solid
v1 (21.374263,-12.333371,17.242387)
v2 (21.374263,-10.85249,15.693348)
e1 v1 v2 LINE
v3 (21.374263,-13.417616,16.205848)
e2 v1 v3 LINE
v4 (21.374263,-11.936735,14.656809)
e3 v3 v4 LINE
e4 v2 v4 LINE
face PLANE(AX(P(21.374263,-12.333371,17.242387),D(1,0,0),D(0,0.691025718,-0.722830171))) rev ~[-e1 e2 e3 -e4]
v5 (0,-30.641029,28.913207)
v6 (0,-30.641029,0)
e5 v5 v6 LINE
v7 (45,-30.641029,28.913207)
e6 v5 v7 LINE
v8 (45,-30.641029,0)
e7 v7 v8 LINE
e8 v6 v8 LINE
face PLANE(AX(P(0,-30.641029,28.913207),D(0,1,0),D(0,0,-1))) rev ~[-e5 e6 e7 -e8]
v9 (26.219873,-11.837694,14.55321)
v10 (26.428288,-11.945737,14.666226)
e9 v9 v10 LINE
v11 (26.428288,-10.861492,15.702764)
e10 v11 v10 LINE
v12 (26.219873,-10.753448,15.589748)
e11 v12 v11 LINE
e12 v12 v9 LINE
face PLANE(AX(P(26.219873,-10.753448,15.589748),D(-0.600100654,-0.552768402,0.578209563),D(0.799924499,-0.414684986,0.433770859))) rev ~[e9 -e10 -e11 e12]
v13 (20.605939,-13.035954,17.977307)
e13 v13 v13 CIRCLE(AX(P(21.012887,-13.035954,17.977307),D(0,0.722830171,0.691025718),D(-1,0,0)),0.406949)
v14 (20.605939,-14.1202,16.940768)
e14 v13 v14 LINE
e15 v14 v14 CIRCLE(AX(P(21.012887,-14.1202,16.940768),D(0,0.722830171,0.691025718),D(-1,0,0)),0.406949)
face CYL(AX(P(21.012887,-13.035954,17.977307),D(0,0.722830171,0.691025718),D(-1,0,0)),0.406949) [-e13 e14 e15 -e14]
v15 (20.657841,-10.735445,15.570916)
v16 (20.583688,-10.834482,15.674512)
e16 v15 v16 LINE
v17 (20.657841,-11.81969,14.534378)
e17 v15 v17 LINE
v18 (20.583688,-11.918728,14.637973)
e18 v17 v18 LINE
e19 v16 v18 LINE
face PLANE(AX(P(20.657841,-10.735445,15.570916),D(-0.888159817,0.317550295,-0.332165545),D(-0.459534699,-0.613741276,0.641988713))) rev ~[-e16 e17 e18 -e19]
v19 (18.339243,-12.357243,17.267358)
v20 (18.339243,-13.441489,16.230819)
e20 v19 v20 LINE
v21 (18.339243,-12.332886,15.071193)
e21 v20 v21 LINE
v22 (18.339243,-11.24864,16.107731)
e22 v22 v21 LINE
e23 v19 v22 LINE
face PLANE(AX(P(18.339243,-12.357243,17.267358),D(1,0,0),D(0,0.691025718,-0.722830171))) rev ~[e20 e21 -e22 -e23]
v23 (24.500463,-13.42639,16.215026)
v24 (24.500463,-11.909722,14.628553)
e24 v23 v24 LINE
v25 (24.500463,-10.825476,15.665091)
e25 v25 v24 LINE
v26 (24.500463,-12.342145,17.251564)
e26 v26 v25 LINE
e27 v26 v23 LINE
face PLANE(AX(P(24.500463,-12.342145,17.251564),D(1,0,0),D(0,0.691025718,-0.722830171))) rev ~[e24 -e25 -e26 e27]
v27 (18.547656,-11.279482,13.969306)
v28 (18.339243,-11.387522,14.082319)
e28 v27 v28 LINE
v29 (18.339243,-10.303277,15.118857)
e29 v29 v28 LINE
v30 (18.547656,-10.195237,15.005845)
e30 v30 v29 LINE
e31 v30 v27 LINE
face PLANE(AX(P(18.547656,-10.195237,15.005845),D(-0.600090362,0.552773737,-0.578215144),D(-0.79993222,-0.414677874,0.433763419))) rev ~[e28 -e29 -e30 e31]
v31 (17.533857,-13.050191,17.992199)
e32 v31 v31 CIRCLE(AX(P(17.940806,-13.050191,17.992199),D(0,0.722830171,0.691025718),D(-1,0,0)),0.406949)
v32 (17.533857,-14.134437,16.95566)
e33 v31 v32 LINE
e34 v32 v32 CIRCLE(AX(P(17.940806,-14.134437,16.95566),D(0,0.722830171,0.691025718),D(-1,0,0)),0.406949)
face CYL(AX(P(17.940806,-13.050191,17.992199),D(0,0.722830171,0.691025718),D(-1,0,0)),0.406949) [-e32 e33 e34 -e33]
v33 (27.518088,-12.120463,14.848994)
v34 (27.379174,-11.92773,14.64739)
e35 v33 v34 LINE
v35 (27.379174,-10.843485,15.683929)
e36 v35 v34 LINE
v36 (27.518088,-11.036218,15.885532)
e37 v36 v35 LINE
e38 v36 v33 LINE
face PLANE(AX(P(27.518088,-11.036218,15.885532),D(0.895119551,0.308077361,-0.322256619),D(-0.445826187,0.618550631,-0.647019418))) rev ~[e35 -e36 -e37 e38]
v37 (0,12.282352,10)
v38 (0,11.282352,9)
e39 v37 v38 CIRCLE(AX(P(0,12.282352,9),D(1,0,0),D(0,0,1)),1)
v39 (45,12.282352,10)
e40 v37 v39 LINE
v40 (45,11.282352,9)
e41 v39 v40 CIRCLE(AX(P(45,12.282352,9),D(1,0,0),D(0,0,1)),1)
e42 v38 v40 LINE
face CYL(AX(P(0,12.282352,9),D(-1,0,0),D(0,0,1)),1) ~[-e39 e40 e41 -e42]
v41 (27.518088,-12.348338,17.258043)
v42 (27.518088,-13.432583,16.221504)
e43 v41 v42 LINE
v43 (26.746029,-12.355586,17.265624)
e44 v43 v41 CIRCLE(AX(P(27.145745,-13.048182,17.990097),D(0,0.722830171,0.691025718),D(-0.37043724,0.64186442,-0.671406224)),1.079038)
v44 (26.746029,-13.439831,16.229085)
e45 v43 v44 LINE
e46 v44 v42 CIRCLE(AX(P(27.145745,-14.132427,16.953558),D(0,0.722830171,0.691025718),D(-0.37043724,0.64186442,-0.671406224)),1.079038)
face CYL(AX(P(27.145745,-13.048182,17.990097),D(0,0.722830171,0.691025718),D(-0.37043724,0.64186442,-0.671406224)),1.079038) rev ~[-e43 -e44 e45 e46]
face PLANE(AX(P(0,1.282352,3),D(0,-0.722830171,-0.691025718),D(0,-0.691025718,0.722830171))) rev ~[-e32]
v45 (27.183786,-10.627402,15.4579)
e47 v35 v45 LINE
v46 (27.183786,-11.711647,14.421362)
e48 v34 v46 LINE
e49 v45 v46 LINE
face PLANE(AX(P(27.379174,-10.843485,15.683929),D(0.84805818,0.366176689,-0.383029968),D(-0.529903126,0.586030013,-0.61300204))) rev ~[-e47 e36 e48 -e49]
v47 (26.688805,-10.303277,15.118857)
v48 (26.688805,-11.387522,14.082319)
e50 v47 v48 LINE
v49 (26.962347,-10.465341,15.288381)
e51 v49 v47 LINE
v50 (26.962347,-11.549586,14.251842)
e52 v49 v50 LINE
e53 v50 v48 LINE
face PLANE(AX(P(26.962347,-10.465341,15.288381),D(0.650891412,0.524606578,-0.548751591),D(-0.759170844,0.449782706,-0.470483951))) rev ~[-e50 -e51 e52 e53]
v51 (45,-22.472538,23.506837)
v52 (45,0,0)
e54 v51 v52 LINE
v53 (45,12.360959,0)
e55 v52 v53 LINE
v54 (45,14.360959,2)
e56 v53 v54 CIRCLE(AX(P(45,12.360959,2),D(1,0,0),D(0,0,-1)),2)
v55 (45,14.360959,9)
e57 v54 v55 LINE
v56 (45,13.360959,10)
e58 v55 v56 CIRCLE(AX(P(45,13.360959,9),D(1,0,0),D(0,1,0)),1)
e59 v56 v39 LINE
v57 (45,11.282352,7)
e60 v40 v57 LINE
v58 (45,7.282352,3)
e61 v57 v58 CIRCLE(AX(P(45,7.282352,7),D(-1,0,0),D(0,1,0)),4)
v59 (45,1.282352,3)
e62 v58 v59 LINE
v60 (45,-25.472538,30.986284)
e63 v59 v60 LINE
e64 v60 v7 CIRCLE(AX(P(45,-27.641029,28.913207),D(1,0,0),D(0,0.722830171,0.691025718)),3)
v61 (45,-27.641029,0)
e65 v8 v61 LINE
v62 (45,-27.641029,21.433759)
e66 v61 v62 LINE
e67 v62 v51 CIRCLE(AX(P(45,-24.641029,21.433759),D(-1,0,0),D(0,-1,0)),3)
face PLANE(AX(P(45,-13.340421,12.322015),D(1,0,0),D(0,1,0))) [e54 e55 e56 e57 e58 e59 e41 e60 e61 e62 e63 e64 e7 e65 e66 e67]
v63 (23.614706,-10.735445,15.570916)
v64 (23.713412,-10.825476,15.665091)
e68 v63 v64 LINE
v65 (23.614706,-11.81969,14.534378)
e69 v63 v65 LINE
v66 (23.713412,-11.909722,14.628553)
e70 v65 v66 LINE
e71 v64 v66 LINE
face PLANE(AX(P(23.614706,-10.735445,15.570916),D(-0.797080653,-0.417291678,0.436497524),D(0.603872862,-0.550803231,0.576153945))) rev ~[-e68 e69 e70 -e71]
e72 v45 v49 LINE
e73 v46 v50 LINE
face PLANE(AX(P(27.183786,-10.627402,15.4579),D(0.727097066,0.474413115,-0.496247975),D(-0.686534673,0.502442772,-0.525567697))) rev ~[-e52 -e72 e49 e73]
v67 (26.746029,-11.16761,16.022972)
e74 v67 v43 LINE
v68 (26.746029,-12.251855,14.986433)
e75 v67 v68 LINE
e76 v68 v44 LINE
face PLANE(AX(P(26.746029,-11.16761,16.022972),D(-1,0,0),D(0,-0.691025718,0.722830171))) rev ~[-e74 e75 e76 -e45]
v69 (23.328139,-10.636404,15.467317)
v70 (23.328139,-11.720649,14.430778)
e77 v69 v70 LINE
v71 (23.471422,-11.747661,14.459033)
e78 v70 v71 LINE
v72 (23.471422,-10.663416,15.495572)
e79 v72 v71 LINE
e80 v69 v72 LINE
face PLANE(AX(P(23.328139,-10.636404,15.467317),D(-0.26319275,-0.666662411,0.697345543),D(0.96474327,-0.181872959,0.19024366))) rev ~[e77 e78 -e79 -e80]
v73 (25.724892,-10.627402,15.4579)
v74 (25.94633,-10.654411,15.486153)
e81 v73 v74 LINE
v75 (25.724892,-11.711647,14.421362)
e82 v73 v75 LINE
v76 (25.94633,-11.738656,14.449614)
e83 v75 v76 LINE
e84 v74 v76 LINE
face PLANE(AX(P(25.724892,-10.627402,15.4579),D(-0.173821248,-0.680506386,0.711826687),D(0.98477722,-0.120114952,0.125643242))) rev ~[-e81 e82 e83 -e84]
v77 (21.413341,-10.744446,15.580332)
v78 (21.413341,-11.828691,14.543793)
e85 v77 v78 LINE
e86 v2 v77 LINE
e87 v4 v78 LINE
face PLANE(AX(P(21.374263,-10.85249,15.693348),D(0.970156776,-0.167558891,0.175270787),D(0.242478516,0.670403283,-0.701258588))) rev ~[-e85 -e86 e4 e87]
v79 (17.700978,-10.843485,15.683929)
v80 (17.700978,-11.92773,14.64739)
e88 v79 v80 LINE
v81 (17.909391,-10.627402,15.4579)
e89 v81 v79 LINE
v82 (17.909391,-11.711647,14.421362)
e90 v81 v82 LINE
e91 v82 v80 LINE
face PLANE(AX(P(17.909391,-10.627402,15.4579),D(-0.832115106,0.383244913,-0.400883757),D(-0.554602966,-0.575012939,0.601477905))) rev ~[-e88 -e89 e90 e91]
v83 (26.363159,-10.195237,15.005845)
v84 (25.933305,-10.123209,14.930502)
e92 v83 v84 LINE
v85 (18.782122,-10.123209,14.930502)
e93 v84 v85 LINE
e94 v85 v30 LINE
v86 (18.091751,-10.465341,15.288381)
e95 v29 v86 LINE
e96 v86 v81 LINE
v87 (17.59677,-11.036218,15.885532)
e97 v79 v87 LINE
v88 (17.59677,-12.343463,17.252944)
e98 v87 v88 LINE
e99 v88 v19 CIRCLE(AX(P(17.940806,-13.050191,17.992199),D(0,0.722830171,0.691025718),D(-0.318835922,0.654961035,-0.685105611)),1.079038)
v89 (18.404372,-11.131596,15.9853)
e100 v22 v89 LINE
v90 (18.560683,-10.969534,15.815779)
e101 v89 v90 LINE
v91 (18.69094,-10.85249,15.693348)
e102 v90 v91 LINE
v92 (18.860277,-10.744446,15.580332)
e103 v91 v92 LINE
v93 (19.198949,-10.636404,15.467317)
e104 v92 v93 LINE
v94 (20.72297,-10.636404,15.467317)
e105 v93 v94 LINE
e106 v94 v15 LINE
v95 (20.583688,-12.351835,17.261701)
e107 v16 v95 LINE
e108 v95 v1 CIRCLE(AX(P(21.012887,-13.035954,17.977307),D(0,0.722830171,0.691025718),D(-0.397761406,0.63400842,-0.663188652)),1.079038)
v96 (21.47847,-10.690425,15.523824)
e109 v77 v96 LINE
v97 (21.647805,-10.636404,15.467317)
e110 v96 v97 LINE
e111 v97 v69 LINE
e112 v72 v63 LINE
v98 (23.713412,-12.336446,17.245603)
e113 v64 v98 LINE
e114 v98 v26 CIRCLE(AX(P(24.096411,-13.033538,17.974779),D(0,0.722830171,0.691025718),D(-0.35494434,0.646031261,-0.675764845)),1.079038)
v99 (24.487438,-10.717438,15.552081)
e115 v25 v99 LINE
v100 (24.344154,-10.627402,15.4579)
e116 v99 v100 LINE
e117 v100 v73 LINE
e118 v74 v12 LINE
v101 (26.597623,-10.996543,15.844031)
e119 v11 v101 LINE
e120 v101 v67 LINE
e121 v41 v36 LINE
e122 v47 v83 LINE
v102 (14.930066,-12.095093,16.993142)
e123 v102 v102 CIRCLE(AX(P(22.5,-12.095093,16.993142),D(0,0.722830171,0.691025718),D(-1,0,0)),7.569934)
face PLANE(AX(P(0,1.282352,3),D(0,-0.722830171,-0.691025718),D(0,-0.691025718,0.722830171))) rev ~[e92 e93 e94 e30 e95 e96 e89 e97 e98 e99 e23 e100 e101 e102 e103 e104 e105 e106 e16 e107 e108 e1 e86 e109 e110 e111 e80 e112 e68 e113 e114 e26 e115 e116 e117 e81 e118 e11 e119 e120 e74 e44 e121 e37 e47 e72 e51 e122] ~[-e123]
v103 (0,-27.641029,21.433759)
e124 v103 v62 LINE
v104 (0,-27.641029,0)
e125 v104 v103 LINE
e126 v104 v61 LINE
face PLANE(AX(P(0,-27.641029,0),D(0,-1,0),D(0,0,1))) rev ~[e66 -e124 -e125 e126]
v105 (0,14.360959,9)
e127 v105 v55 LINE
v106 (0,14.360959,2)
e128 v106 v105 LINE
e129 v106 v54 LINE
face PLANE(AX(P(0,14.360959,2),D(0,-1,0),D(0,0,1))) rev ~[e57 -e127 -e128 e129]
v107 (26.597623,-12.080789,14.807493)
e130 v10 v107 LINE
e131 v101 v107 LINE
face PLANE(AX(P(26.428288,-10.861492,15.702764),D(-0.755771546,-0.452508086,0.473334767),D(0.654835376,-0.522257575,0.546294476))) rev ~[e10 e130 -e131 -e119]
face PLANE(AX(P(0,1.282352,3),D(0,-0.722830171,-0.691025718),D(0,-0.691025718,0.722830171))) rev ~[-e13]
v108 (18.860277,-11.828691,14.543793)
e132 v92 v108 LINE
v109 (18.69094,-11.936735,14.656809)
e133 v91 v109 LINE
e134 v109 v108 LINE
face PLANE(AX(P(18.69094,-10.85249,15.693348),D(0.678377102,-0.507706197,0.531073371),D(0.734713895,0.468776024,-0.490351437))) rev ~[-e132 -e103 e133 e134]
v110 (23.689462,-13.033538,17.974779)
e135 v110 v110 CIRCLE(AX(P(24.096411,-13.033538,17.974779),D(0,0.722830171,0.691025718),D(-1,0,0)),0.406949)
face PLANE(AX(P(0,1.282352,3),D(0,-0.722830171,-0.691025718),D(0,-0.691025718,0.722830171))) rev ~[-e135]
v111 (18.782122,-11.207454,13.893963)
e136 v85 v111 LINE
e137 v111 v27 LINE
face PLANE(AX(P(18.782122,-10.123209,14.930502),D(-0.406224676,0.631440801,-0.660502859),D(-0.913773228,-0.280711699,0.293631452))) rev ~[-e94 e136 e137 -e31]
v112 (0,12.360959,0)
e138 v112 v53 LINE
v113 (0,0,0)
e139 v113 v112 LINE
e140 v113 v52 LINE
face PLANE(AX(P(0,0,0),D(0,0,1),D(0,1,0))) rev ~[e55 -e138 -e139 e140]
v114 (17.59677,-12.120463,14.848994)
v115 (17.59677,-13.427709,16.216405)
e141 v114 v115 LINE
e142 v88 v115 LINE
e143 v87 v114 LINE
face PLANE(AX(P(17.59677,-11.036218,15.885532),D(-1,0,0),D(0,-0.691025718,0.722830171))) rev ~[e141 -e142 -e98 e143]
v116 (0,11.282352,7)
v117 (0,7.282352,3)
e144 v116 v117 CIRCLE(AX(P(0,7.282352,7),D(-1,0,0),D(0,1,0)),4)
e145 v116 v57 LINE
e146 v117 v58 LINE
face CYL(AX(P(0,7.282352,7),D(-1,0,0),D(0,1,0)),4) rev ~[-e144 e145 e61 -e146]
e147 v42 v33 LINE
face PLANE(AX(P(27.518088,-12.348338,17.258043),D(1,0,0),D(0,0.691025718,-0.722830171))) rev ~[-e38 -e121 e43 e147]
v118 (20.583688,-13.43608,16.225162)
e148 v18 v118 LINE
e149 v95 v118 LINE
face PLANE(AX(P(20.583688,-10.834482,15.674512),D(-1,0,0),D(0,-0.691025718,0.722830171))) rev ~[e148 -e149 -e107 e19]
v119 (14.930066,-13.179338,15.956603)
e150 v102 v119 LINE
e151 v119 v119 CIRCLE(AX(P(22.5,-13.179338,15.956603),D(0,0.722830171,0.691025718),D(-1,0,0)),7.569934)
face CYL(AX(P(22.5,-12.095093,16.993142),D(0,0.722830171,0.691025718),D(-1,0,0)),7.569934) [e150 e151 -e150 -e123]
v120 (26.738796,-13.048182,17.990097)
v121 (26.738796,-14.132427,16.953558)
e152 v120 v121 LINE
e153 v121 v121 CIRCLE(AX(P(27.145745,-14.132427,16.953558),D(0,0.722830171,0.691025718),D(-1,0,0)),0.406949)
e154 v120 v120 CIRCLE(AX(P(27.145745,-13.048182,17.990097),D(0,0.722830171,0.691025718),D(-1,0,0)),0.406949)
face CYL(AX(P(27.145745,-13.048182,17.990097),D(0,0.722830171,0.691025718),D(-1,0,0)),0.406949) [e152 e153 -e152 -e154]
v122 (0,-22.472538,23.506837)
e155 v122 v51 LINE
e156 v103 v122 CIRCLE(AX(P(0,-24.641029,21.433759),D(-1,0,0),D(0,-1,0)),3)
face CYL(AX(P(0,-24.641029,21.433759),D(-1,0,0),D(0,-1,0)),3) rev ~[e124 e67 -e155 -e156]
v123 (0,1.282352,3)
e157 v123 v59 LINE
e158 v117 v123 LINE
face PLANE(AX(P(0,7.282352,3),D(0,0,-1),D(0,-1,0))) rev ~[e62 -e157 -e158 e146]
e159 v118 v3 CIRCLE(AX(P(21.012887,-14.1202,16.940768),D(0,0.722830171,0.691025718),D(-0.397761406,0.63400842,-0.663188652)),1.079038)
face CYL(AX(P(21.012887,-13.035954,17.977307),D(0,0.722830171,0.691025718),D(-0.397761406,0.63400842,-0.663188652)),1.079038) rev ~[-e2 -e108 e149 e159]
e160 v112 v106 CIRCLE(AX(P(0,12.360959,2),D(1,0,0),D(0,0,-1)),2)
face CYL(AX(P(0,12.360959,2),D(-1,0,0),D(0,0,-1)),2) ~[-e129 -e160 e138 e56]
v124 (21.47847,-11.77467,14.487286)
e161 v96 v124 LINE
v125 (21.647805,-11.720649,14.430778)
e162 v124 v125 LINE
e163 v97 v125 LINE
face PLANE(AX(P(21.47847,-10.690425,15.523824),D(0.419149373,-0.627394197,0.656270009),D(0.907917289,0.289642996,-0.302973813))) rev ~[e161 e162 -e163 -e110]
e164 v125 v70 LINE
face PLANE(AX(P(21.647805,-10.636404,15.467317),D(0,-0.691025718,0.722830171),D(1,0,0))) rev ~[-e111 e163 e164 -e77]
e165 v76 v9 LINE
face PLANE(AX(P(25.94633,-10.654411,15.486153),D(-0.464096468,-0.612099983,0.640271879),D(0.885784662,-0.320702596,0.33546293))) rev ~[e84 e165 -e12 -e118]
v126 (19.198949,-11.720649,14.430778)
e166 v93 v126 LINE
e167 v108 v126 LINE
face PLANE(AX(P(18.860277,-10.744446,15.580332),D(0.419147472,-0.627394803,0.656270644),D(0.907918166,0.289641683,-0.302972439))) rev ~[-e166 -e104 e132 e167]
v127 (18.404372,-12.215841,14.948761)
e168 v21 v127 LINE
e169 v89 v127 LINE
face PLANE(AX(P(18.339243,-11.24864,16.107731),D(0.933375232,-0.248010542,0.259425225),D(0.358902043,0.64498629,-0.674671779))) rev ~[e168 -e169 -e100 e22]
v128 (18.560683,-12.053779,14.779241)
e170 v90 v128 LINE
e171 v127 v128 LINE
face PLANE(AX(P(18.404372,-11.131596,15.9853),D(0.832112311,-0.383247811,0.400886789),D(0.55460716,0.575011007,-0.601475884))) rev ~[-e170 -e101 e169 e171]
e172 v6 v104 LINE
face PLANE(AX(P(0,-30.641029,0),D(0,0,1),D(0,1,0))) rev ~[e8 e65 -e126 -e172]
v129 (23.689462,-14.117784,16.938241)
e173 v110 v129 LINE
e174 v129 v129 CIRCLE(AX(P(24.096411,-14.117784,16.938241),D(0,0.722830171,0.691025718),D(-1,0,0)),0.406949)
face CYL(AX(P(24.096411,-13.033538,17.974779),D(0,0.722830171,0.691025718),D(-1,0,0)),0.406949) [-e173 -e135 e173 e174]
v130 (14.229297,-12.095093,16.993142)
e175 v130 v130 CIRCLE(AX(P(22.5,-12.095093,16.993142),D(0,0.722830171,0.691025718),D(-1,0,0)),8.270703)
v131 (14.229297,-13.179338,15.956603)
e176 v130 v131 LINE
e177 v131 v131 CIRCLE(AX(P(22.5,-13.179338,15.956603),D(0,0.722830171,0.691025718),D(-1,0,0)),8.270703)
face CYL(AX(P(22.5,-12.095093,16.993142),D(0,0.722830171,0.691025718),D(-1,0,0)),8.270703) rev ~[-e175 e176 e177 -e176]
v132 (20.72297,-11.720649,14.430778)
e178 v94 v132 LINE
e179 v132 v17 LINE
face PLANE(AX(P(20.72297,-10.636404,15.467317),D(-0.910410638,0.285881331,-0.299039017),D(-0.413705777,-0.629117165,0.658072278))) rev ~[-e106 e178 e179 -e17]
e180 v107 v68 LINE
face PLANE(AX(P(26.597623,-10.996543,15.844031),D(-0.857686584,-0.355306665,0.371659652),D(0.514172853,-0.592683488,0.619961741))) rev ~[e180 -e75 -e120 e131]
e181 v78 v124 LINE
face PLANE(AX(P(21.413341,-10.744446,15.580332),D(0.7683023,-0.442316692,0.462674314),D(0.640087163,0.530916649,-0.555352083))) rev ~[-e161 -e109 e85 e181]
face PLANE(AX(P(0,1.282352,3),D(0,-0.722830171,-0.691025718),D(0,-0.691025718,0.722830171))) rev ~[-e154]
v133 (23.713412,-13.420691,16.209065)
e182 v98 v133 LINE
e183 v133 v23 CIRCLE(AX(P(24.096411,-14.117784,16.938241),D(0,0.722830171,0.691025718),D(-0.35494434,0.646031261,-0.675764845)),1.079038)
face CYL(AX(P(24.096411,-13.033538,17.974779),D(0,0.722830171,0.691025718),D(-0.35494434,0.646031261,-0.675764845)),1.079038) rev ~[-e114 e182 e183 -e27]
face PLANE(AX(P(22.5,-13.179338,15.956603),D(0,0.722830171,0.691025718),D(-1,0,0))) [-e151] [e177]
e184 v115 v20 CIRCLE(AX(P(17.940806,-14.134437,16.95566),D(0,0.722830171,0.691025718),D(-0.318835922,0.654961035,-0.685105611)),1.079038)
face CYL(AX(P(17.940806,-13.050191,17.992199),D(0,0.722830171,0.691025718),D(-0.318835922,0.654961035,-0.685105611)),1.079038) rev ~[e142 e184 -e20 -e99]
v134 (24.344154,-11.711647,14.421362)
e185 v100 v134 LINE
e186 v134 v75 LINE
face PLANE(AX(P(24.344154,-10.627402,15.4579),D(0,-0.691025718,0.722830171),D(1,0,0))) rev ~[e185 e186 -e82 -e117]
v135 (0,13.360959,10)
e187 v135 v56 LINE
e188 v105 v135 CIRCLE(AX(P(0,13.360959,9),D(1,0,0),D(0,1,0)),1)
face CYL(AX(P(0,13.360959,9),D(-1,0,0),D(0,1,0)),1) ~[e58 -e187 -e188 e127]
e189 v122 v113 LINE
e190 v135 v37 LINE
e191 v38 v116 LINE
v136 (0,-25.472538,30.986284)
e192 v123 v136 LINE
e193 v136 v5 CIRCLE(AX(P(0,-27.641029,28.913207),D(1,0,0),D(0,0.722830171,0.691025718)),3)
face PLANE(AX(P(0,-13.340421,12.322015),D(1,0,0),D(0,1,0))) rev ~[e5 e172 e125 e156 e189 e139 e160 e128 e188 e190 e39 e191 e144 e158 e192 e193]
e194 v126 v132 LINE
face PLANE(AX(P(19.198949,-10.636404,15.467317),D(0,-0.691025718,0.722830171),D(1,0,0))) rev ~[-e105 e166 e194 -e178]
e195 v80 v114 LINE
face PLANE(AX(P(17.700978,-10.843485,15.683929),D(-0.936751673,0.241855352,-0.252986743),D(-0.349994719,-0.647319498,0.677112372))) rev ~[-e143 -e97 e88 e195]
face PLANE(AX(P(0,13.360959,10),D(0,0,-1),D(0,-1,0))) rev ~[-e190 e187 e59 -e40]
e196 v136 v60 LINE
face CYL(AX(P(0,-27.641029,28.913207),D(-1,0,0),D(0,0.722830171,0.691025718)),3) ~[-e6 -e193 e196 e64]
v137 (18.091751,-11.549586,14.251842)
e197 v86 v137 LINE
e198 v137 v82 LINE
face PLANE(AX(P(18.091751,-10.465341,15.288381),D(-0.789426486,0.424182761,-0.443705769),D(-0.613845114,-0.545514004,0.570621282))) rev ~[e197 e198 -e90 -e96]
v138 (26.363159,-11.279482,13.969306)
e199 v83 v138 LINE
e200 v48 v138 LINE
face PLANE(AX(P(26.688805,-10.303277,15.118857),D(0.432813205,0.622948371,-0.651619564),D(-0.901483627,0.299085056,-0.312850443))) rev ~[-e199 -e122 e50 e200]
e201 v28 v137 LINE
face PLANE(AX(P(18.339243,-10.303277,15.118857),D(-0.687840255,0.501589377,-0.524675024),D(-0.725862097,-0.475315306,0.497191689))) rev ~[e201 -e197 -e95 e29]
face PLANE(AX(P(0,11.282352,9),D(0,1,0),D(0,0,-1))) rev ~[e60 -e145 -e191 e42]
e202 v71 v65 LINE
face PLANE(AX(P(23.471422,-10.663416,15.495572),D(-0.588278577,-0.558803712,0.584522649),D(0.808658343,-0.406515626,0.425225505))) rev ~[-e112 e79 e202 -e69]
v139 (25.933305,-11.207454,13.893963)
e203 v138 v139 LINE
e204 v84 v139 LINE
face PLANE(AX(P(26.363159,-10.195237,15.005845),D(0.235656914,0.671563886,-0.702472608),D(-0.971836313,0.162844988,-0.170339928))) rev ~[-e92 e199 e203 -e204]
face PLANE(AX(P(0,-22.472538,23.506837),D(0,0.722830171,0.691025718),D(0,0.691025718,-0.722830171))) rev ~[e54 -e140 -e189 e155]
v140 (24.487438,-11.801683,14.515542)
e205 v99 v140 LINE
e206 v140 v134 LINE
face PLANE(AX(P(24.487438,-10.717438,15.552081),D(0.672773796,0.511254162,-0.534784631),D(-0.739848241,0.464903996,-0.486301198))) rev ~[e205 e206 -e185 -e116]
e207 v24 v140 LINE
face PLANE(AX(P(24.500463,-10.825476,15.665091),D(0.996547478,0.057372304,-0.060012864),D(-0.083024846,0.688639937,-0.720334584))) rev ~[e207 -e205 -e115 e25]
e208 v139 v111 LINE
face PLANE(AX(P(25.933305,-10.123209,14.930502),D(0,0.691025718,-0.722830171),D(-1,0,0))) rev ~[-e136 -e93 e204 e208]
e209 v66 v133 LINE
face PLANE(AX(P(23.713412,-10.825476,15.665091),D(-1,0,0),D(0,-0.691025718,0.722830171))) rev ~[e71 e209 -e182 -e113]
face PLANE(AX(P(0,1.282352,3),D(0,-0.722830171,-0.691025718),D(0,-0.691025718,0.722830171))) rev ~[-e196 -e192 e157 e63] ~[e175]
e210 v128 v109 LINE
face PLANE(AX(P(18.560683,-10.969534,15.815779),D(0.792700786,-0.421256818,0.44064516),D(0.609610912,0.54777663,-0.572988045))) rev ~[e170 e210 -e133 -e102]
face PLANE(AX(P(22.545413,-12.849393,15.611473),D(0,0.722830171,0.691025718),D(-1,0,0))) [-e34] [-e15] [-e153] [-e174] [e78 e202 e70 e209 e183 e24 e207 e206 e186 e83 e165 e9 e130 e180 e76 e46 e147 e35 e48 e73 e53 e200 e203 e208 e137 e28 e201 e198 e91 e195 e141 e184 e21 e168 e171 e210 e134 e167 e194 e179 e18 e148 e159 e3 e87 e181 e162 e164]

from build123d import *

# Parameters (mm, degrees)
F1_DEPTH = 45
F2_R     = 8.270702783
F2_R_2   = 7.5699344576
F2_R_3   = 0.4069488222
F3_DEPTH = 1.5


with BuildPart() as f1:
    # F0 (on Right) → F1 (new body)
    with BuildSketch(Plane.YZ):
        with BuildLine():
            Line((-22.4725382223, 23.5068366048), (0, 0))
            Line((0, 0), (12.3609593138, 0))
            ThreePointArc((12.3609593138, 0), (13.7751728762, 0.5857864376), (14.3609593138, 2))
            Line((14.3609593138, 2), (14.3609593138, 7))
            Line((14.3609593138, 7), (14.3609593138, 9))
            ThreePointArc((14.3609593138, 9), (14.068066095, 9.7071067812), (13.3609593138, 10))
            Line((13.3609593138, 10), (12.2823521785, 10))
            ThreePointArc((12.2823521785, 10), (11.5752453973, 9.7071067812), (11.2823521785, 9))
            Line((11.2823521785, 9), (11.2823521785, 7))
            ThreePointArc((11.2823521785, 7), (10.1107793032, 4.1715728753), (7.2823521785, 3))
            Line((7.2823521785, 3), (1.2823521785, 3))
            Line((1.2823521785, 3), (-25.4725382223, 30.9862840062))
            ThreePointArc((-25.4725382223, 30.9862840062), (-28.7578385809, 31.6975803479), (-30.6410287362, 28.913206851))
            Line((-30.6410287362, 28.913206851), (-30.6410287362, 0))
            Line((-30.6410287362, 0), (-27.6410287362, 0))
            Line((-27.6410287362, 0), (-27.6410287362, 21.4337594496))
            ThreePointArc((-27.6410287362, 21.4337594496), (-25.7578385809, 24.2181329465), (-22.4725382223, 23.5068366048))
        make_face()
    extrude(amount=F1_DEPTH)

    # F2 (on face) → F3 (cut)
    with BuildSketch(Plane(origin=(0, 2.1684905138, 2.0730771552), x_dir=(-1, 0, 0), z_dir=(0, 0.7228301713, 0.6910257184))):
        with Locations((-22.5, 20.6411760892)):
            Circle(F2_R)
        with Locations((-22.5, 20.6411760892)):
            Circle(F2_R_2, mode=Mode.SUBTRACT)
        with BuildLine():
            Line((-26.7460289363, 19.2989930163), (-26.7460289363, 21.0181410771))
            ThreePointArc((-26.7460289363, 21.0181410771), (-27.1604015057, 23.0993524994), (-27.5180879991, 21.0076531943))
            Line((-27.5180879991, 21.0076531943), (-27.5180879991, 19.1088523712))
            Line((-27.5180879991, 19.1088523712), (-27.3791737854, 18.8299436122))
            Line((-27.3791737854, 18.8299436122), (-27.1837860346, 18.5172446072))
            Line((-27.1837860346, 18.5172446072), (-26.9623473287, 18.2827226818))
            Line((-26.9623473287, 18.2827226818), (-26.68880485, 18.0481951684))
            Line((-26.68880485, 18.0481951684), (-26.3631585985, 17.8918484598))
            Line((-26.3631585985, 17.8918484598), (-25.9333048016, 17.7876148373))
            Line((-25.9333048016, 17.7876148373), (-18.7821220607, 17.7876148373))
            Line((-18.7821220607, 17.7876148373), (-18.5476560146, 17.8918484598))
            Line((-18.5476560146, 17.8918484598), (-18.3392427862, 18.0481951684))
            Line((-18.3392427862, 18.0481951684), (-18.0917512625, 18.2827226818))
            Line((-18.0917512625, 18.2827226818), (-17.9093908519, 18.5172446072))
            Line((-17.9093908519, 18.5172446072), (-17.7009776235, 18.8299436122))
            Line((-17.7009776235, 18.8299436122), (-17.5967700779, 19.1088523712))
            Line((-17.5967700779, 19.1088523712), (-17.5967700779, 21.0005989226))
            ThreePointArc((-17.5967700779, 21.0005989226), (-17.9118361845, 23.10197132), (-18.3392427862, 21.0205400333))
            Line((-18.3392427862, 21.0205400333), (-18.3392427862, 19.4162540138))
            Line((-18.3392427862, 19.4162540138), (-18.4043720365, 19.2468762398))
            Line((-18.4043720365, 19.2468762398), (-18.5606833547, 19.0123524517))
            Line((-18.5606833547, 19.0123524517), (-18.6909399927, 18.8429746777))
            Line((-18.6909399927, 18.8429746777), (-18.8602767885, 18.6866223812))
            Line((-18.8602767885, 18.6866223812), (-19.1989485174, 18.5302719474))
            Line((-19.1989485174, 18.5302719474), (-20.7229703665, 18.5302719474))
            Line((-20.7229703665, 18.5302719474), (-20.6578411162, 18.6735969037))
            Line((-20.6578411162, 18.6735969037), (-20.5836875976, 18.8169161692))
            Line((-20.5836875976, 18.8169161692), (-20.5836875976, 21.0127137605))
            ThreePointArc((-20.5836875976, 21.0127137605), (-21.0493362808, 23.0811417849), (-21.3742628694, 20.9859936039))
            Line((-21.3742628694, 20.9859936039), (-21.3742628694, 18.8429746777))
            Line((-21.3742628694, 18.8429746777), (-21.4133411646, 18.6866223812))
            Line((-21.4133411646, 18.6866223812), (-21.4784704149, 18.6084471643))
            Line((-21.4784704149, 18.6084471643), (-21.647805348, 18.5302719474))
            Line((-21.647805348, 18.5302719474), (-23.3281385154, 18.5302719474))
            Line((-23.3281385154, 18.5302719474), (-23.4714224935, 18.5693614185))
            Line((-23.4714224935, 18.5693614185), (-23.6147064716, 18.6735969037))
            Line((-23.6147064716, 18.6735969037), (-23.7134122117, 18.8038833277))
            Line((-23.7134122117, 18.8038833277), (-23.7134122117, 20.990443881))
            ThreePointArc((-23.7134122117, 20.990443881), (-24.0851049871, 23.0782021511), (-24.5004631579, 20.9986907413))
            Line((-24.5004631579, 20.9986907413), (-24.5004631579, 18.8038833439))
            Line((-24.5004631579, 18.8038833439), (-24.4874376804, 18.647538498))
            Line((-24.4874376804, 18.647538498), (-24.3441537023, 18.5172446072))
            Line((-24.3441537023, 18.5172446072), (-25.7248915732, 18.5172446072))
            Line((-25.7248915732, 18.5172446072), (-25.9463302791, 18.556330353))
            Line((-25.9463302791, 18.556330353), (-26.2198727578, 18.6996497214))
            Line((-26.2198727578, 18.6996497214), (-26.4282878488, 18.8560020179))
            Line((-26.4282878488, 18.8560020179), (-26.597622782, 19.0514381975))
            Line((-26.597622782, 19.0514381975), (-26.7460289363, 19.2989930163))
        make_face()
        with Locations((-27.1457448778, 22.0204138214)):
            Circle(F2_R_3, mode=Mode.SUBTRACT)
        with Locations((-24.0964107215, 21.9992231578)):
            Circle(F2_R_3, mode=Mode.SUBTRACT)
        with Locations((-21.0128873587, 22.0027193427)):
            Circle(F2_R_3, mode=Mode.SUBTRACT)
        with Locations((-17.9408062249, 22.0233220607)):
            Circle(F2_R_3, mode=Mode.SUBTRACT)
    extrude(amount=-F3_DEPTH, mode=Mode.SUBTRACT)


solid = f1.part
